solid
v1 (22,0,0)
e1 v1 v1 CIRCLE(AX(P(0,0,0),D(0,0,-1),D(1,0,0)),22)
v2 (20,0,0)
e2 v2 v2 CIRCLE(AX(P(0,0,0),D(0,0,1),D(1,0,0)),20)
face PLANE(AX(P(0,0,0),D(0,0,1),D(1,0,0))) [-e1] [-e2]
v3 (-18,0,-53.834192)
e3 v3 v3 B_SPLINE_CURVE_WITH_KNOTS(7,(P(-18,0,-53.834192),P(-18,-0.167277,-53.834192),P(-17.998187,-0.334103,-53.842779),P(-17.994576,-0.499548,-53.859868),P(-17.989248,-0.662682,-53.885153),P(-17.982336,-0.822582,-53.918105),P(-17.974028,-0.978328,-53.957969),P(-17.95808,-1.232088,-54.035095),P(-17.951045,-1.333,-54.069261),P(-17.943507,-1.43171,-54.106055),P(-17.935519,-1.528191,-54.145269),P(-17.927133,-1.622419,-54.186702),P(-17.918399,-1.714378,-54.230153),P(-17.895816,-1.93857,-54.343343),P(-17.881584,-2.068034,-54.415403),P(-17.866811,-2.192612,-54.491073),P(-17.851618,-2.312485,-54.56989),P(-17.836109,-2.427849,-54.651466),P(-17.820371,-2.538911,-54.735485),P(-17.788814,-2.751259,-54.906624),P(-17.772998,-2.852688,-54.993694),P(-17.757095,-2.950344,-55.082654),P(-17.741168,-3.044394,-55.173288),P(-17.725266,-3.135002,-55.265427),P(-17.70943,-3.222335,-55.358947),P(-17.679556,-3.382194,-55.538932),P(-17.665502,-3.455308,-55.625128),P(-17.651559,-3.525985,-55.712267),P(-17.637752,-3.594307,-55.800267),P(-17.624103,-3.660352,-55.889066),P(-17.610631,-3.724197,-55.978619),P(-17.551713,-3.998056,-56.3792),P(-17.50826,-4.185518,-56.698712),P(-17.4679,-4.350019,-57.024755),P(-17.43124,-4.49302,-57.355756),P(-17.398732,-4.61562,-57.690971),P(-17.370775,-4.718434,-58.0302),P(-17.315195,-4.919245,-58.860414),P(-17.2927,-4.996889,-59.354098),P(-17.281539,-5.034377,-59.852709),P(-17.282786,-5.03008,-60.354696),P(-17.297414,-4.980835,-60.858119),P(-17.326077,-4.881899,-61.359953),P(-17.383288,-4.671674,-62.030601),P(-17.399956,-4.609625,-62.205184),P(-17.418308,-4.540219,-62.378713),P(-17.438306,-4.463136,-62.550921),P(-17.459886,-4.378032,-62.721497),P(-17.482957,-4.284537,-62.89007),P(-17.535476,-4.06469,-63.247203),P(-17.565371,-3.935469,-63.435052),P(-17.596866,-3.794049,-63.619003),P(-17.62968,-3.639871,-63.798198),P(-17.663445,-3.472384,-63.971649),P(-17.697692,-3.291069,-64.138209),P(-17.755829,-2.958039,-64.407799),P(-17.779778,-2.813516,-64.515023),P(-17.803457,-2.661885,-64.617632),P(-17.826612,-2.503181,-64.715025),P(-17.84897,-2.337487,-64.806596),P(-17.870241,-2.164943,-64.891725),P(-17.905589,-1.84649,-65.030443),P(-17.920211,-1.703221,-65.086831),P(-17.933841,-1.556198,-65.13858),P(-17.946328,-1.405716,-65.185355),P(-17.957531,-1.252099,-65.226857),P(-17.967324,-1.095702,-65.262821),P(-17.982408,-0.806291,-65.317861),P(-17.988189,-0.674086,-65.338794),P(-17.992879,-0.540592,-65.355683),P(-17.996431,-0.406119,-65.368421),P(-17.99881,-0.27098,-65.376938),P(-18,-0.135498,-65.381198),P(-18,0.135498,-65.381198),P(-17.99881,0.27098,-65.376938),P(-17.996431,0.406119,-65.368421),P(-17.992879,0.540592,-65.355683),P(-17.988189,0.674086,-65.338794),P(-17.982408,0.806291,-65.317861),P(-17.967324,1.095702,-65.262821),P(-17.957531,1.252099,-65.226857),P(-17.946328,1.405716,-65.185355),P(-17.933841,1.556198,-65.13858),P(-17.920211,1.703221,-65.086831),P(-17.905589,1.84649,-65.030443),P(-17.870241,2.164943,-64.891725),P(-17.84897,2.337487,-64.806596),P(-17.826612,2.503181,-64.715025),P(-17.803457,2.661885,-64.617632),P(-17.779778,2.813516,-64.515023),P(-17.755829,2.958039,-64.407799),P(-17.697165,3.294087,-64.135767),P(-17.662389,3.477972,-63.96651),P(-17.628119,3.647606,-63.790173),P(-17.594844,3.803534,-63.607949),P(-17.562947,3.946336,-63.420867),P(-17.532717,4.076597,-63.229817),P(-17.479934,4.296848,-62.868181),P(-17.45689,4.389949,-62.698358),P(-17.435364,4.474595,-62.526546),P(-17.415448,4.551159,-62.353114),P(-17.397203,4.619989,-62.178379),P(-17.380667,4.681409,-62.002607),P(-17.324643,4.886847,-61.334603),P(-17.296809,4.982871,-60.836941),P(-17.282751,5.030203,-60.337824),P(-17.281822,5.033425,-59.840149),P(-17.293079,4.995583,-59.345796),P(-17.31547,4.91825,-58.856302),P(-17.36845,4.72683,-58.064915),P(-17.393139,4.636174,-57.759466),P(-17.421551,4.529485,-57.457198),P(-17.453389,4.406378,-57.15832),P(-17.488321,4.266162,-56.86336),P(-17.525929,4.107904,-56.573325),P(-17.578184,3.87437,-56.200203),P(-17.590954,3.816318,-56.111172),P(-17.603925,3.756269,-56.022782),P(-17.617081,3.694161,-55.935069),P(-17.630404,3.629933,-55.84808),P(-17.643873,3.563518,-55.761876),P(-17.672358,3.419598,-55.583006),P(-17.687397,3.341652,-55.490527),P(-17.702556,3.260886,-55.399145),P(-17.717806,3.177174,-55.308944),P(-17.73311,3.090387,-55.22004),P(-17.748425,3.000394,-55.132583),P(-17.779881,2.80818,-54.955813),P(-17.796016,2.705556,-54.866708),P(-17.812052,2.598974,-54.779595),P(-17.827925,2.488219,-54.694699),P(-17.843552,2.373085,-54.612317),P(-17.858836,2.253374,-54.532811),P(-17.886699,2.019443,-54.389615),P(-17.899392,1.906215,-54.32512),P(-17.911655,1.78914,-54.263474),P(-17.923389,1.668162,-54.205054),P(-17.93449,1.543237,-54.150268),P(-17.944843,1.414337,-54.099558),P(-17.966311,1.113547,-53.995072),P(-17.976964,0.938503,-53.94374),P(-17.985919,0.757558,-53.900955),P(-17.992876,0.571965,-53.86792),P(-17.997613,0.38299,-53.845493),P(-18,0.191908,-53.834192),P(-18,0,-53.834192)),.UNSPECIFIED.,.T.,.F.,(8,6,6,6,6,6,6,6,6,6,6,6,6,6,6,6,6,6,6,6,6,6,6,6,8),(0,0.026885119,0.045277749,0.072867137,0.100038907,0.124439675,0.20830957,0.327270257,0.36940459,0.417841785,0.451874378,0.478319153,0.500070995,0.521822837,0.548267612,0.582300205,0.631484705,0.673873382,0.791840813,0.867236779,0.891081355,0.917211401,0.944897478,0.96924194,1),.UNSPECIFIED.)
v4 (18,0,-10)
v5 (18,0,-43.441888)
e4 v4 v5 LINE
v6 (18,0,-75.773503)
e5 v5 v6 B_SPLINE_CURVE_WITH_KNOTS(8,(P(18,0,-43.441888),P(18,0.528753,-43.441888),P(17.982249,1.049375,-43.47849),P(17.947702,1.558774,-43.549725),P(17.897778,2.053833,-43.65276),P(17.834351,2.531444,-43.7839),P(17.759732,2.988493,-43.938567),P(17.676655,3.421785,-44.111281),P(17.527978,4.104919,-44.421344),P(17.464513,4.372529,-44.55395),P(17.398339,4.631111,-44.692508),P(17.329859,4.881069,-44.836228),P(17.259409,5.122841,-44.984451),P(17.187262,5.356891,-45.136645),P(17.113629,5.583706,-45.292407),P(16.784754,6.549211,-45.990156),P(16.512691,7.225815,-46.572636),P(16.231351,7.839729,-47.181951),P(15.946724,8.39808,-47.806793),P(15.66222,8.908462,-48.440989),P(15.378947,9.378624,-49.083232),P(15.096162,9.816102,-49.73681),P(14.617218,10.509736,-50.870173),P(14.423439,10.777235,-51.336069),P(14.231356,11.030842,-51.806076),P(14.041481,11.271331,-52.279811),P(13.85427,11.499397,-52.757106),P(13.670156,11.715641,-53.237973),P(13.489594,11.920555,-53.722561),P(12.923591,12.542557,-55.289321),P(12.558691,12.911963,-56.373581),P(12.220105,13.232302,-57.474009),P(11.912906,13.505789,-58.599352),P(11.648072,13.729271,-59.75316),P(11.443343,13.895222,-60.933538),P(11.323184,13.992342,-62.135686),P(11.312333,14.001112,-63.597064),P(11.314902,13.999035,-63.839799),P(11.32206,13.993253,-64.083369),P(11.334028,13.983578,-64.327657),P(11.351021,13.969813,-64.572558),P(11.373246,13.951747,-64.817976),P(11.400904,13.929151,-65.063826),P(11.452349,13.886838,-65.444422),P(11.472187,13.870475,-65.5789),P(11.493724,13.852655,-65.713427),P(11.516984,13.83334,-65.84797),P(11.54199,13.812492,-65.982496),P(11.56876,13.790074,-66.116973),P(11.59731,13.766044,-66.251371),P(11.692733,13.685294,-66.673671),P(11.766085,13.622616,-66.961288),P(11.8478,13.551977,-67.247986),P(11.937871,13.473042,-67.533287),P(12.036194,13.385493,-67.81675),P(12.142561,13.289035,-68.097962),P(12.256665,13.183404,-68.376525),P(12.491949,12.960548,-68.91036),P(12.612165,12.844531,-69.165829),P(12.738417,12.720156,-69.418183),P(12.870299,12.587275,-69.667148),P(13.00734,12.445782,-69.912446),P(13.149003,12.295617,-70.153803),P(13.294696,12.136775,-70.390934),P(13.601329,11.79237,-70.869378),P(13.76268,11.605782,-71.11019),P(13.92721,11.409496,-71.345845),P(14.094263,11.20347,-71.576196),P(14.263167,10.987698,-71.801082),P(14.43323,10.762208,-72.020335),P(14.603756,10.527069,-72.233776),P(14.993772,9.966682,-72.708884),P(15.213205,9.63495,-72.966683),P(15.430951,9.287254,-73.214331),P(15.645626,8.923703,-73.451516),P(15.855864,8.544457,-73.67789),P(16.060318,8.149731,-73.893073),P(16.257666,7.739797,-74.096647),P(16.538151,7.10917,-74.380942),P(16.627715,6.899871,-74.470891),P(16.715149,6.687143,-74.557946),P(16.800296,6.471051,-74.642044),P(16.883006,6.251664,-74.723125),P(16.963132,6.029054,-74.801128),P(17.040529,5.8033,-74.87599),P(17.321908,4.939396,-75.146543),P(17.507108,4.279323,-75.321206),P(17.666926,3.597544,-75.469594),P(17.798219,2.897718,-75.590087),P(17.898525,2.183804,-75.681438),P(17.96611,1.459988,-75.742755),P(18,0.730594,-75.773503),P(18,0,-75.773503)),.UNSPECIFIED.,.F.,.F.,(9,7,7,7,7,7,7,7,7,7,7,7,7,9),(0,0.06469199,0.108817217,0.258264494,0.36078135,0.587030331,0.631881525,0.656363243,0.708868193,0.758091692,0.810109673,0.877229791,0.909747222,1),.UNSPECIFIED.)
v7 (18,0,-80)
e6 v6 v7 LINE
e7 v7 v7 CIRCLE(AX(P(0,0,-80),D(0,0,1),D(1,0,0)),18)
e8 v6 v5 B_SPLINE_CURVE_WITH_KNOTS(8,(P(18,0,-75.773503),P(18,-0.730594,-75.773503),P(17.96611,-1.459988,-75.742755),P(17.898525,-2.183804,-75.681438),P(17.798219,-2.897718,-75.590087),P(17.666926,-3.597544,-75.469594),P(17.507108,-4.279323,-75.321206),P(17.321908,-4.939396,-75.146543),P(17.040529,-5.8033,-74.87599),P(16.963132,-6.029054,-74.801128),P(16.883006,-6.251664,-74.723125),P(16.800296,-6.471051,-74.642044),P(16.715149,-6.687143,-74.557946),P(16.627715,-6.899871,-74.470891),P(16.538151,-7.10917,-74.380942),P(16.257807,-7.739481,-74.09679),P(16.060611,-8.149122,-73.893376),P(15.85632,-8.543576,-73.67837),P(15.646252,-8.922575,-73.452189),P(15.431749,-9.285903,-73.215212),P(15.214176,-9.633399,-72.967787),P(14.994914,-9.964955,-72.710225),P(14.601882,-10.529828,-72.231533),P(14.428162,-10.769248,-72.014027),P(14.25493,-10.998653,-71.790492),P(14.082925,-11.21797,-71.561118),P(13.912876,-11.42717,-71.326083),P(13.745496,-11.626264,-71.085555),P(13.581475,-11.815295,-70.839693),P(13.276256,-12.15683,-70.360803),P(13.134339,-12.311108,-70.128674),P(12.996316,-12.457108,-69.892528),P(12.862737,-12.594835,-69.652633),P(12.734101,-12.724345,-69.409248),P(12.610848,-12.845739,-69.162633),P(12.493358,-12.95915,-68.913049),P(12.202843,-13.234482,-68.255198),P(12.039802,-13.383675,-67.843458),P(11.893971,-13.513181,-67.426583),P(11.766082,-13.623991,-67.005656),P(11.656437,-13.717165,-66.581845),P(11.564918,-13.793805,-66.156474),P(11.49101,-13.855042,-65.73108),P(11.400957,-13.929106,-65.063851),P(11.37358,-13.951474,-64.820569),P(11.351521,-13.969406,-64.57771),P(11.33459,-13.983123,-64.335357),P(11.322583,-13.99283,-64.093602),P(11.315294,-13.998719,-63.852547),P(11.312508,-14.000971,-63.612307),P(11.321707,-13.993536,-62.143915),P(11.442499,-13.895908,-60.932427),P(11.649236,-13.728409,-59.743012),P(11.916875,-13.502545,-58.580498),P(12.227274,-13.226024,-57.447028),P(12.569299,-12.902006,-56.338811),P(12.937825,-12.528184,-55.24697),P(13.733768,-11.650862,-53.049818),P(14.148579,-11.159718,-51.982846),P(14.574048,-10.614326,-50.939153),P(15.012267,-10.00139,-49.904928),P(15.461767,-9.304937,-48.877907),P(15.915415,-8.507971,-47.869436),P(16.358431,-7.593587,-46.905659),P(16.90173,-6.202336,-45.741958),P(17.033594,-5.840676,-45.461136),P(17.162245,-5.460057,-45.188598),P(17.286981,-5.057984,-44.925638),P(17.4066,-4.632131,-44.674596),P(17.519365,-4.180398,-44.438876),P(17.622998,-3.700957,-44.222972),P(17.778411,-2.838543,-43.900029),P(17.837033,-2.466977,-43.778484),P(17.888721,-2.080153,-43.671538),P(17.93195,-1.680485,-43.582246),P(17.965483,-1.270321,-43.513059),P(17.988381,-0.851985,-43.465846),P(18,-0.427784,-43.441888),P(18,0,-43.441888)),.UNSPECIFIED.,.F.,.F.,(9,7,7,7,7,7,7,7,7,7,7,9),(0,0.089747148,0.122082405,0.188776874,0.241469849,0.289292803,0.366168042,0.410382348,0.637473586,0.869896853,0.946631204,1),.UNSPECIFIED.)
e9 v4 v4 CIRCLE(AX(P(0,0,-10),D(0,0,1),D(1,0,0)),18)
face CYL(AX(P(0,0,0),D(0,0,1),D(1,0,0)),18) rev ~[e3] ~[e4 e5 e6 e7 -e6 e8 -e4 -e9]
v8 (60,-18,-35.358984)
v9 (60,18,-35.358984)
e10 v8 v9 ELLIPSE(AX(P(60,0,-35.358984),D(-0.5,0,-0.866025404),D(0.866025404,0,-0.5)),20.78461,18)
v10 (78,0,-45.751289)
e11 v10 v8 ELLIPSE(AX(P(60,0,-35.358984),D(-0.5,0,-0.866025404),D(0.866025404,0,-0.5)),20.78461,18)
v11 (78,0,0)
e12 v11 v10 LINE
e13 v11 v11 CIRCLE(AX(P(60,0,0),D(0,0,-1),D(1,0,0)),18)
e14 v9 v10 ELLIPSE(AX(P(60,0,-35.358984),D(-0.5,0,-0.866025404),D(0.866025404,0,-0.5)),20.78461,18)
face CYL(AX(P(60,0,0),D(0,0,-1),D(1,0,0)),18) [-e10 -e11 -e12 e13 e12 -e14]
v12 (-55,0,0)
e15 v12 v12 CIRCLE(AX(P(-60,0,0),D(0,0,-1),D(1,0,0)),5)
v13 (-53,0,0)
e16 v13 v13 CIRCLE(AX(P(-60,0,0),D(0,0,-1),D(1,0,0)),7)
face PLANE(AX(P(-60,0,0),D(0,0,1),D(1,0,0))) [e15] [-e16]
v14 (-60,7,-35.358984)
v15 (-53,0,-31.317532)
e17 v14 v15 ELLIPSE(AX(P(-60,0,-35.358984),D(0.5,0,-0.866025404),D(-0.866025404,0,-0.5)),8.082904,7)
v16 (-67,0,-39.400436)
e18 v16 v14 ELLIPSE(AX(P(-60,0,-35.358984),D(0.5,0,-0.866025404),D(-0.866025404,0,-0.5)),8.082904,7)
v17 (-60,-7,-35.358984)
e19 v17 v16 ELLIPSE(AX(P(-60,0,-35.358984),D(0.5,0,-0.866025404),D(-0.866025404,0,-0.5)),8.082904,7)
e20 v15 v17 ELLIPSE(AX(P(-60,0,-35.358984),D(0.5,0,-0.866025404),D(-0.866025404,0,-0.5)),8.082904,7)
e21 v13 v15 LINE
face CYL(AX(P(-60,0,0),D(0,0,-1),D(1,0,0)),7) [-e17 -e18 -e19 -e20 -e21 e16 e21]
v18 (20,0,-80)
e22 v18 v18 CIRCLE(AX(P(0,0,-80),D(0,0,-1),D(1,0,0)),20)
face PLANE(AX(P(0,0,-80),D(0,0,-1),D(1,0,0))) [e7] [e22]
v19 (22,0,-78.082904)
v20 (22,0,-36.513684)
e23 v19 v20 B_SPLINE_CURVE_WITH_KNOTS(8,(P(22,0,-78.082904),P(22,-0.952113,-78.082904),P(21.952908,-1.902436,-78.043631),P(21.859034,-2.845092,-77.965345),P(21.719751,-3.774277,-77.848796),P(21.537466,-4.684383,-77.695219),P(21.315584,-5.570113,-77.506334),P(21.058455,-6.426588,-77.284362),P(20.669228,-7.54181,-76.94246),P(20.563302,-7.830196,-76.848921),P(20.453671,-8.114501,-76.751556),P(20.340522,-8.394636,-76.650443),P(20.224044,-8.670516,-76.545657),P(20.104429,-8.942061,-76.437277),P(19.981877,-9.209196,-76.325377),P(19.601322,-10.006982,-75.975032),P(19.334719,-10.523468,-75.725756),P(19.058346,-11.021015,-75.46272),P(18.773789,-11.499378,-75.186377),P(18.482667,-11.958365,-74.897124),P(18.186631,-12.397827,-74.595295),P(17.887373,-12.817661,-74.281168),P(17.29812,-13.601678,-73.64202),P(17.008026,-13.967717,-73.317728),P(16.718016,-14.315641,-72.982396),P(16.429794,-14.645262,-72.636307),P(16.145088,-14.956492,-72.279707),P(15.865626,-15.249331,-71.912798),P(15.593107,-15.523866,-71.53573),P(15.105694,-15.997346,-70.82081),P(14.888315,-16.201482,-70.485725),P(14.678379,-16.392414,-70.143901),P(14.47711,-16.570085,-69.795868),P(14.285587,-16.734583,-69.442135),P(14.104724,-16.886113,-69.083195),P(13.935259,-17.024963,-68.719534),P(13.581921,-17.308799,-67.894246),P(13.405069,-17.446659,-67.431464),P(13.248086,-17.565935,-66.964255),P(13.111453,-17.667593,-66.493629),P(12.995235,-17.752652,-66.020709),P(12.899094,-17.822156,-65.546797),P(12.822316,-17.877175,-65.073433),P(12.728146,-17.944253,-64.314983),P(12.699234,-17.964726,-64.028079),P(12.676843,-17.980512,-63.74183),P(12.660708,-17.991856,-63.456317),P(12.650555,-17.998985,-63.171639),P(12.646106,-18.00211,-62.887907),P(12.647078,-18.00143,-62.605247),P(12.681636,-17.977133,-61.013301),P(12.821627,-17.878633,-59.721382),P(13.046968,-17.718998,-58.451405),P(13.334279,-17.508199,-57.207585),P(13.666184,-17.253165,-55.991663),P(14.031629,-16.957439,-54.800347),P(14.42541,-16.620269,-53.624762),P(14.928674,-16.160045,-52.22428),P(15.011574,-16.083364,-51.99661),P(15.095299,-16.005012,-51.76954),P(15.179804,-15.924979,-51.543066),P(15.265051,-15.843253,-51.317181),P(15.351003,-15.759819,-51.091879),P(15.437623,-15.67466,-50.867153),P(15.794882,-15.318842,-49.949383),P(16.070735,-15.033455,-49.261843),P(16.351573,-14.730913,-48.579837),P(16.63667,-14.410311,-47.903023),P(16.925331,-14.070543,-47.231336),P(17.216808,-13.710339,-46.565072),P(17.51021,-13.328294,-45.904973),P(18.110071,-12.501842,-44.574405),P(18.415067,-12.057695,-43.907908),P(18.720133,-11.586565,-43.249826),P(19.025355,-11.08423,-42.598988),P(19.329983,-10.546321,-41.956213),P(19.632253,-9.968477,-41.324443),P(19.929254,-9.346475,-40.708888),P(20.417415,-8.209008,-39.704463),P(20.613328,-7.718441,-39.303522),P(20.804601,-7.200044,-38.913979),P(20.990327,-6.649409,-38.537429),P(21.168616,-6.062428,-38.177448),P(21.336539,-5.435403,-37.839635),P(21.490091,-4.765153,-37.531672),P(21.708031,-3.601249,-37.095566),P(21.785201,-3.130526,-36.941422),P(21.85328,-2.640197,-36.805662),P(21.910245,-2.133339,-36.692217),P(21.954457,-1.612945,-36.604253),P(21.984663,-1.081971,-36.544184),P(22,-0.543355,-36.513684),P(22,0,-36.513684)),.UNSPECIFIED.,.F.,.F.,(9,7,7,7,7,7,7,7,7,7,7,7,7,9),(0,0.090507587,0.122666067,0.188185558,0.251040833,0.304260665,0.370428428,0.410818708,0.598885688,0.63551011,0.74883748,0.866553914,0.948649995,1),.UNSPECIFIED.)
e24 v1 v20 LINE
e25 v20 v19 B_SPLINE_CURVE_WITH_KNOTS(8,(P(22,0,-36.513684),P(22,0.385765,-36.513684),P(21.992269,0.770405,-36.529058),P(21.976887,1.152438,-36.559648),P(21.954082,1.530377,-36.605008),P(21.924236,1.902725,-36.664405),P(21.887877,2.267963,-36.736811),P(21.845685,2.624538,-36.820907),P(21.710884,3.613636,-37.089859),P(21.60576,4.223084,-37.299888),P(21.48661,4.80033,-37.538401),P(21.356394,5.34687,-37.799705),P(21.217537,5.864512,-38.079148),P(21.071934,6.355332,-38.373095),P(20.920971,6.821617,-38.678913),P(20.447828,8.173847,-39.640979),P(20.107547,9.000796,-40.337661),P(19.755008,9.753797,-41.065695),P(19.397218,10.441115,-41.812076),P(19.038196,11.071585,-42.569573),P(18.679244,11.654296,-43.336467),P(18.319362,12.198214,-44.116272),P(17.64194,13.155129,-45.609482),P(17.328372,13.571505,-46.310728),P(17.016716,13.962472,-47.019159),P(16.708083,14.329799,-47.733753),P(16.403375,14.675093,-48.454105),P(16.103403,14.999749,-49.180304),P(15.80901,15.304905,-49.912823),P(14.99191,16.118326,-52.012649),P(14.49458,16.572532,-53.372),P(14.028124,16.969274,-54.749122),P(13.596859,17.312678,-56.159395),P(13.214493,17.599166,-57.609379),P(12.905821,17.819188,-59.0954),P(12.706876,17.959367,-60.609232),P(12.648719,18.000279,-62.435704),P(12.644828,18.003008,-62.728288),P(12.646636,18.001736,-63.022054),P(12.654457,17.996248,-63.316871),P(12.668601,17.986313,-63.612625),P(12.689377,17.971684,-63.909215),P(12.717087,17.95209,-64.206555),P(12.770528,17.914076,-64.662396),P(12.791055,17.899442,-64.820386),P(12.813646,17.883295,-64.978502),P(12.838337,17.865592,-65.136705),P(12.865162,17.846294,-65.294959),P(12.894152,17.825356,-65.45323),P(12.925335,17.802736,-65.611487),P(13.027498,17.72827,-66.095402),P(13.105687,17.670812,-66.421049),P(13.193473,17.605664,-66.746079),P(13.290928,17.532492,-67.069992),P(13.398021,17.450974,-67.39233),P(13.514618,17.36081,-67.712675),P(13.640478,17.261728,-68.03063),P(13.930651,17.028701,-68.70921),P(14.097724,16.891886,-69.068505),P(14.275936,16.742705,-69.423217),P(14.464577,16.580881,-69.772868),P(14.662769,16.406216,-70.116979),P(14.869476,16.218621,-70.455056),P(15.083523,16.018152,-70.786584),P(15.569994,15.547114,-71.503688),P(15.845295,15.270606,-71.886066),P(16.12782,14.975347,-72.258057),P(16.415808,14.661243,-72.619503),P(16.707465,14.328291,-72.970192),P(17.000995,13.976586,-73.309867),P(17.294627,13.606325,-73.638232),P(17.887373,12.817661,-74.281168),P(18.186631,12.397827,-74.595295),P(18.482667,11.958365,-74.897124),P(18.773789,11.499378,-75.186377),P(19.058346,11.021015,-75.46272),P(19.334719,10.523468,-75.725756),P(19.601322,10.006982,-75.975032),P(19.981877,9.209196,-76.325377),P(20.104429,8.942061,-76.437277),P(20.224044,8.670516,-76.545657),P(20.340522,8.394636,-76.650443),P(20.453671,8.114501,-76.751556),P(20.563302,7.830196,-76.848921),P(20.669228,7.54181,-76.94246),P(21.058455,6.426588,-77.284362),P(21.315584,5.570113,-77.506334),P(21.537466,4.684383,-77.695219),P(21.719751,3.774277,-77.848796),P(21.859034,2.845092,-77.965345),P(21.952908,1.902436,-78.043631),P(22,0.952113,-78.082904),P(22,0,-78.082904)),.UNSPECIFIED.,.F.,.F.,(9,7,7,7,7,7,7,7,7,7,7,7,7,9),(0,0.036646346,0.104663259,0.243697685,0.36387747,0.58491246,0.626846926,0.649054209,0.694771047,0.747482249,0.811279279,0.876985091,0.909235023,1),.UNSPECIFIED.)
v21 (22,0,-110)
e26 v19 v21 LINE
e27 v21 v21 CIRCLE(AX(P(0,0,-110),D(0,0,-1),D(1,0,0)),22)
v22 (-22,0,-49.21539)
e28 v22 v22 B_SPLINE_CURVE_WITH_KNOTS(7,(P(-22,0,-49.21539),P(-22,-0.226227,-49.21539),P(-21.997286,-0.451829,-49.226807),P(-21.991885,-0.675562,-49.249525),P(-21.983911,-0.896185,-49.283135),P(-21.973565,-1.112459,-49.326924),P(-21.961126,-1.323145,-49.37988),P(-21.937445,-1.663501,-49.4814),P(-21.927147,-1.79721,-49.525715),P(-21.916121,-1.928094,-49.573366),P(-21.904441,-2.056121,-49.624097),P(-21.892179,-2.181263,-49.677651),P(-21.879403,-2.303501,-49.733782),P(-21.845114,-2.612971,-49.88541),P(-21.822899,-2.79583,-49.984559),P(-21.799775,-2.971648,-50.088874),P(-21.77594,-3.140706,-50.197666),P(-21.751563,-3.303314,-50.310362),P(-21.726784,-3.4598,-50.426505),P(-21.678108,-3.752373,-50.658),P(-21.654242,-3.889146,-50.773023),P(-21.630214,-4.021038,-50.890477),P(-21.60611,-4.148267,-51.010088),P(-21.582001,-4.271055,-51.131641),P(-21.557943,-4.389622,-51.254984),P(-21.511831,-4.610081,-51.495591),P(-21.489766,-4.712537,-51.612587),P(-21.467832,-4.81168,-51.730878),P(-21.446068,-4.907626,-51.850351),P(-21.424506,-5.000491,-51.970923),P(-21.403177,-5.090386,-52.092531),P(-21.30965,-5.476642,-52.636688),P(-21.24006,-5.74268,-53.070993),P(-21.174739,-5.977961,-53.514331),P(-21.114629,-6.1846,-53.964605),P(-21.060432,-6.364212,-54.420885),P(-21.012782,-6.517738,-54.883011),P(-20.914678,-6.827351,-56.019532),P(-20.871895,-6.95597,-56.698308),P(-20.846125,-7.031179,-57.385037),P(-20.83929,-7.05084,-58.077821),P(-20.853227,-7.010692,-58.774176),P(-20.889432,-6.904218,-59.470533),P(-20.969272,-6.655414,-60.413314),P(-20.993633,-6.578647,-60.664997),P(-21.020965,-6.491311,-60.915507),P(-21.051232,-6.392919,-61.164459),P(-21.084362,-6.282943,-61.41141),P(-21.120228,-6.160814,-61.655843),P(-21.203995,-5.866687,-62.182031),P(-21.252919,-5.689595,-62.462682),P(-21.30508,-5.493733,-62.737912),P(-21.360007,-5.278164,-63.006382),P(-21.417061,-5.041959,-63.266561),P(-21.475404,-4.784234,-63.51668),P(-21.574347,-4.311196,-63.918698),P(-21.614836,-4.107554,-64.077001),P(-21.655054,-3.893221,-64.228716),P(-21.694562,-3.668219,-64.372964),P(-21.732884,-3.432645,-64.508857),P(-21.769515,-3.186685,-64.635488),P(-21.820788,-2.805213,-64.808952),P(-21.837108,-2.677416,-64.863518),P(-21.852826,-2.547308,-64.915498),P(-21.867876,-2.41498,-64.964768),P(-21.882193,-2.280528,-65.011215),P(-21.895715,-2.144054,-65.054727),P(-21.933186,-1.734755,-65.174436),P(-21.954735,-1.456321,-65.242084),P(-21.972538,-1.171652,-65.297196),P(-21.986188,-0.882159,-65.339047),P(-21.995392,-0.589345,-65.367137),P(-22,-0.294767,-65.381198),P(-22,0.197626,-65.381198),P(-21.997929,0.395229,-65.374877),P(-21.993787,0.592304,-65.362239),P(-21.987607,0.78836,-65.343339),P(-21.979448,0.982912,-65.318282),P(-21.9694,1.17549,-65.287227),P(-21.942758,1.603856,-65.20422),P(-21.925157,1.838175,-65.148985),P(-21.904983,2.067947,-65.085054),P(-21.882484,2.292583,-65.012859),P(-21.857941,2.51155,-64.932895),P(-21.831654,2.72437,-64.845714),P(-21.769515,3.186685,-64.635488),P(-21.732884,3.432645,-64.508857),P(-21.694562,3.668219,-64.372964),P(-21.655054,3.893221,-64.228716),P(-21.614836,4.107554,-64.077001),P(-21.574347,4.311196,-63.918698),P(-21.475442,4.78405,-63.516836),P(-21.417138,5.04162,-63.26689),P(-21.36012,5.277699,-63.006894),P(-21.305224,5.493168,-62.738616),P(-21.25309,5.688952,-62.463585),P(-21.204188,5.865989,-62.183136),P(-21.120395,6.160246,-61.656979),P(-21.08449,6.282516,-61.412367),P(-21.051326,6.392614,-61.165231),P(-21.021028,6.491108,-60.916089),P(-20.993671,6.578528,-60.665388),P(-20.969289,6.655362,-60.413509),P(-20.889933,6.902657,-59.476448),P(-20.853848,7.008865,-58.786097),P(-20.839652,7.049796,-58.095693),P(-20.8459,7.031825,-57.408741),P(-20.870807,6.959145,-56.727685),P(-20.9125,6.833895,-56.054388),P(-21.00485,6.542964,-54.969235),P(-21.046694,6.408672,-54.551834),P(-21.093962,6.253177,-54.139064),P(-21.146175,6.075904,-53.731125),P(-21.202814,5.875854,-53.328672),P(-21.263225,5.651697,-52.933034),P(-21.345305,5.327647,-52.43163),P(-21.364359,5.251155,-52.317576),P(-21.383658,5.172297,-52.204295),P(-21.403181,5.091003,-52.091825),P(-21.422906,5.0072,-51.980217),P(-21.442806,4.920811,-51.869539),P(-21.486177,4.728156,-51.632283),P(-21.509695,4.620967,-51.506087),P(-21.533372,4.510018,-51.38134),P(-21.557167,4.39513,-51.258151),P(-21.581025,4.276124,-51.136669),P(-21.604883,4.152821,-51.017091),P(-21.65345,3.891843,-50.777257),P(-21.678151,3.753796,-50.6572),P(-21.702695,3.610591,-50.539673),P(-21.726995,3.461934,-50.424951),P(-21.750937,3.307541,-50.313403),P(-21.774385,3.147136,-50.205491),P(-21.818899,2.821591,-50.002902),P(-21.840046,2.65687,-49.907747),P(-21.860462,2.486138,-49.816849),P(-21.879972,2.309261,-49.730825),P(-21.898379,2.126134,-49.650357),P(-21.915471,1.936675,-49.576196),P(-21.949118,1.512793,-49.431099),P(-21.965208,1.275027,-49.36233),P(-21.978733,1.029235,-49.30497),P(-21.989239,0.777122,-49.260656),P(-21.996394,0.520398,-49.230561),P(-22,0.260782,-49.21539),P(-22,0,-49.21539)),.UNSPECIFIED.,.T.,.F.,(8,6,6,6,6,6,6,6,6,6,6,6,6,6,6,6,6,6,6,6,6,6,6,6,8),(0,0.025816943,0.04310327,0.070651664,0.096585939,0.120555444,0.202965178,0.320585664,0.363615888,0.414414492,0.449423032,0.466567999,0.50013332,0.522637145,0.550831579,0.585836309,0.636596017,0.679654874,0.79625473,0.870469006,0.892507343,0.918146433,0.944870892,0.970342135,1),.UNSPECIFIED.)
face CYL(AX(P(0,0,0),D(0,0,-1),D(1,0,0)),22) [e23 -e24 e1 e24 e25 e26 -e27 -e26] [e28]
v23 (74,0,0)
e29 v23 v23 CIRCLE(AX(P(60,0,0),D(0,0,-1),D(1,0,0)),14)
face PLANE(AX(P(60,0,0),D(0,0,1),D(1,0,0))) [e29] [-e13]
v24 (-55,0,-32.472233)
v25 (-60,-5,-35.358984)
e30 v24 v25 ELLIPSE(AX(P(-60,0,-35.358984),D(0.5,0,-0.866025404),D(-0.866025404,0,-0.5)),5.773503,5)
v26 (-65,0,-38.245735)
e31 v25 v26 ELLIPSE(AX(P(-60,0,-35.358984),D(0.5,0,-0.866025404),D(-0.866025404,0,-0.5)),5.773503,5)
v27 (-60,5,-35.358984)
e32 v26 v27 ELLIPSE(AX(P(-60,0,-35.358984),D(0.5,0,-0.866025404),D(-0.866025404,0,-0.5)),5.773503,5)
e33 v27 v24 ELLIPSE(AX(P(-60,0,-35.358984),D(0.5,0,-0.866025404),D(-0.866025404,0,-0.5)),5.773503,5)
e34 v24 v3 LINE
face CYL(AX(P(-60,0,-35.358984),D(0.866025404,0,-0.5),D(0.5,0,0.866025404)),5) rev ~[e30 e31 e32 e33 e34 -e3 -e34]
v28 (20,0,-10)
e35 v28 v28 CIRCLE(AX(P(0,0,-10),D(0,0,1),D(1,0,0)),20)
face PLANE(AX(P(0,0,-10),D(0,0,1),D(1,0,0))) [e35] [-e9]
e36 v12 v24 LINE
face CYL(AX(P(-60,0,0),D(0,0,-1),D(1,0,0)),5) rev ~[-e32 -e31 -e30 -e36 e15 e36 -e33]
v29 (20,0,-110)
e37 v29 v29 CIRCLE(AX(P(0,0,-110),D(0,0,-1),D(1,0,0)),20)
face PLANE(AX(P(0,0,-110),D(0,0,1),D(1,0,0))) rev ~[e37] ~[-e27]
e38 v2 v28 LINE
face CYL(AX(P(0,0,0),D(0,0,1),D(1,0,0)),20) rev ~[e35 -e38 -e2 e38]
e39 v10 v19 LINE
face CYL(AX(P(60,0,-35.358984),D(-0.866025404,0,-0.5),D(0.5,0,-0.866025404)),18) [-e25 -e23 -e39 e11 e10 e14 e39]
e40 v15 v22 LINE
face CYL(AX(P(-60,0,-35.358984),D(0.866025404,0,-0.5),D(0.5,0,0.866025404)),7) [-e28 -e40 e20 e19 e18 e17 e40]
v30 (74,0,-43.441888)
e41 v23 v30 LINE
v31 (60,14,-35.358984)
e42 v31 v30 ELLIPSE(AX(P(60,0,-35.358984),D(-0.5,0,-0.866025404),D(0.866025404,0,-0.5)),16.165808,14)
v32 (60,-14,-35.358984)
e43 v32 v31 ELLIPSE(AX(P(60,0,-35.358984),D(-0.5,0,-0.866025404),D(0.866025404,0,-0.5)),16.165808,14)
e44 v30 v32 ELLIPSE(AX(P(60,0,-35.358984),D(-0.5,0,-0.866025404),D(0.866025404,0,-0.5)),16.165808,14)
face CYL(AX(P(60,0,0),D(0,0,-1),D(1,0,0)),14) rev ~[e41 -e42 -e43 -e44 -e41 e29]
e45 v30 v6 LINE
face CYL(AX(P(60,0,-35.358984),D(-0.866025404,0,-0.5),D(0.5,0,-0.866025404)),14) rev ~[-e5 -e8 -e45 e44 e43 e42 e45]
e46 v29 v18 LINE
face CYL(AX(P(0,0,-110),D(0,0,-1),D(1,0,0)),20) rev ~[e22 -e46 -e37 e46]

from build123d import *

# Parameters (mm, degrees)
F1_R      = 22
F1_R_2    = 18
F4_R      = 20
F5_DEPTH  = 30
F7_R      = 20
F7_R_2    = 18
F8_DEPTH  = 10
F9_R      = 14
F1_R_3    = 7
F6_R      = 18
F12_DEPTH = 110.0010001
F13_R     = 5


with BuildPart() as f2:
    # F2: sweep along a path in F0
    with BuildLine(Plane.XZ) as f2_path:
        Line((0, 0), (0, -70))
        Line((0, -70), (0, -110))
    # F1 (on Top) → F2 (sweep)
    with BuildSketch(Plane.XY):
        Circle(F1_R)
    sweep(path=f2_path.line)

    # F3: sweep along a path in F0
    with BuildLine(Plane.XZ) as f3_path:
        Line((60, 0), (60, -35.3589838486))
        Line((60, -35.3589838486), (0, -70))
    # F1 (on Top) → F3 (sweep)
    with BuildSketch(Plane.XY):
        with Locations((60, 0)):
            Circle(F1_R_2)
    sweep(path=f3_path.line, transition=Transition.RIGHT)

    # F4 (on face) → F5 (cut)
    with BuildSketch(Plane(origin=(0, 0, -110), x_dir=(1, 0, 0), z_dir=(0, 0, -1))):
        Circle(F4_R)
    extrude(amount=-F5_DEPTH, mode=Mode.SUBTRACT)

    # F7 (on face) → F8 (cut)
    with BuildSketch(Plane.XY):
        Circle(F7_R)
        Circle(F7_R_2, mode=Mode.SUBTRACT)
    extrude(amount=-F8_DEPTH, mode=Mode.SUBTRACT)

    # F10: sweep along a path in F0
    with BuildLine(Plane.XZ) as f10_path:
        Line((60, 0), (60, -35.3589838486))
        Line((60, -35.3589838486), (0, -70))
    # F9 (on face) → F10 (sweep, cut)
    with BuildSketch(Plane.XY):
        with Locations((60, 0)):
            Circle(F9_R)
    sweep(path=f10_path.line, transition=Transition.RIGHT, mode=Mode.SUBTRACT)

    # F11: sweep along a path in F0
    with BuildLine(Plane.XZ) as f11_path:
        Line((-60, 0), (-60, -35.3589838486))
        Line((-60, -35.3589838486), (0, -70))
    # F1 (on Top) → F11 (sweep)
    with BuildSketch(Plane.XY):
        with Locations((-60, 0)):
            Circle(F1_R_3)
    sweep(path=f11_path.line, transition=Transition.RIGHT)

    # F6 (on face) → F12 (cut, through all)
    with BuildSketch(Plane.XY):
        Circle(F6_R)
    extrude(amount=-F12_DEPTH, mode=Mode.SUBTRACT)

    # F14: sweep along a path in F0
    with BuildLine(Plane.XZ) as f14_path:
        Line((-60, 0), (-60, -35.3589838486))
        Line((-60, -35.3589838486), (0, -70))
    # F13 (on face) → F14 (sweep, cut)
    with BuildSketch(Plane.XY):
        with Locations((-60, 0)):
            Circle(F13_R)
    sweep(path=f14_path.line, transition=Transition.RIGHT, mode=Mode.SUBTRACT)


solid = f2.part
